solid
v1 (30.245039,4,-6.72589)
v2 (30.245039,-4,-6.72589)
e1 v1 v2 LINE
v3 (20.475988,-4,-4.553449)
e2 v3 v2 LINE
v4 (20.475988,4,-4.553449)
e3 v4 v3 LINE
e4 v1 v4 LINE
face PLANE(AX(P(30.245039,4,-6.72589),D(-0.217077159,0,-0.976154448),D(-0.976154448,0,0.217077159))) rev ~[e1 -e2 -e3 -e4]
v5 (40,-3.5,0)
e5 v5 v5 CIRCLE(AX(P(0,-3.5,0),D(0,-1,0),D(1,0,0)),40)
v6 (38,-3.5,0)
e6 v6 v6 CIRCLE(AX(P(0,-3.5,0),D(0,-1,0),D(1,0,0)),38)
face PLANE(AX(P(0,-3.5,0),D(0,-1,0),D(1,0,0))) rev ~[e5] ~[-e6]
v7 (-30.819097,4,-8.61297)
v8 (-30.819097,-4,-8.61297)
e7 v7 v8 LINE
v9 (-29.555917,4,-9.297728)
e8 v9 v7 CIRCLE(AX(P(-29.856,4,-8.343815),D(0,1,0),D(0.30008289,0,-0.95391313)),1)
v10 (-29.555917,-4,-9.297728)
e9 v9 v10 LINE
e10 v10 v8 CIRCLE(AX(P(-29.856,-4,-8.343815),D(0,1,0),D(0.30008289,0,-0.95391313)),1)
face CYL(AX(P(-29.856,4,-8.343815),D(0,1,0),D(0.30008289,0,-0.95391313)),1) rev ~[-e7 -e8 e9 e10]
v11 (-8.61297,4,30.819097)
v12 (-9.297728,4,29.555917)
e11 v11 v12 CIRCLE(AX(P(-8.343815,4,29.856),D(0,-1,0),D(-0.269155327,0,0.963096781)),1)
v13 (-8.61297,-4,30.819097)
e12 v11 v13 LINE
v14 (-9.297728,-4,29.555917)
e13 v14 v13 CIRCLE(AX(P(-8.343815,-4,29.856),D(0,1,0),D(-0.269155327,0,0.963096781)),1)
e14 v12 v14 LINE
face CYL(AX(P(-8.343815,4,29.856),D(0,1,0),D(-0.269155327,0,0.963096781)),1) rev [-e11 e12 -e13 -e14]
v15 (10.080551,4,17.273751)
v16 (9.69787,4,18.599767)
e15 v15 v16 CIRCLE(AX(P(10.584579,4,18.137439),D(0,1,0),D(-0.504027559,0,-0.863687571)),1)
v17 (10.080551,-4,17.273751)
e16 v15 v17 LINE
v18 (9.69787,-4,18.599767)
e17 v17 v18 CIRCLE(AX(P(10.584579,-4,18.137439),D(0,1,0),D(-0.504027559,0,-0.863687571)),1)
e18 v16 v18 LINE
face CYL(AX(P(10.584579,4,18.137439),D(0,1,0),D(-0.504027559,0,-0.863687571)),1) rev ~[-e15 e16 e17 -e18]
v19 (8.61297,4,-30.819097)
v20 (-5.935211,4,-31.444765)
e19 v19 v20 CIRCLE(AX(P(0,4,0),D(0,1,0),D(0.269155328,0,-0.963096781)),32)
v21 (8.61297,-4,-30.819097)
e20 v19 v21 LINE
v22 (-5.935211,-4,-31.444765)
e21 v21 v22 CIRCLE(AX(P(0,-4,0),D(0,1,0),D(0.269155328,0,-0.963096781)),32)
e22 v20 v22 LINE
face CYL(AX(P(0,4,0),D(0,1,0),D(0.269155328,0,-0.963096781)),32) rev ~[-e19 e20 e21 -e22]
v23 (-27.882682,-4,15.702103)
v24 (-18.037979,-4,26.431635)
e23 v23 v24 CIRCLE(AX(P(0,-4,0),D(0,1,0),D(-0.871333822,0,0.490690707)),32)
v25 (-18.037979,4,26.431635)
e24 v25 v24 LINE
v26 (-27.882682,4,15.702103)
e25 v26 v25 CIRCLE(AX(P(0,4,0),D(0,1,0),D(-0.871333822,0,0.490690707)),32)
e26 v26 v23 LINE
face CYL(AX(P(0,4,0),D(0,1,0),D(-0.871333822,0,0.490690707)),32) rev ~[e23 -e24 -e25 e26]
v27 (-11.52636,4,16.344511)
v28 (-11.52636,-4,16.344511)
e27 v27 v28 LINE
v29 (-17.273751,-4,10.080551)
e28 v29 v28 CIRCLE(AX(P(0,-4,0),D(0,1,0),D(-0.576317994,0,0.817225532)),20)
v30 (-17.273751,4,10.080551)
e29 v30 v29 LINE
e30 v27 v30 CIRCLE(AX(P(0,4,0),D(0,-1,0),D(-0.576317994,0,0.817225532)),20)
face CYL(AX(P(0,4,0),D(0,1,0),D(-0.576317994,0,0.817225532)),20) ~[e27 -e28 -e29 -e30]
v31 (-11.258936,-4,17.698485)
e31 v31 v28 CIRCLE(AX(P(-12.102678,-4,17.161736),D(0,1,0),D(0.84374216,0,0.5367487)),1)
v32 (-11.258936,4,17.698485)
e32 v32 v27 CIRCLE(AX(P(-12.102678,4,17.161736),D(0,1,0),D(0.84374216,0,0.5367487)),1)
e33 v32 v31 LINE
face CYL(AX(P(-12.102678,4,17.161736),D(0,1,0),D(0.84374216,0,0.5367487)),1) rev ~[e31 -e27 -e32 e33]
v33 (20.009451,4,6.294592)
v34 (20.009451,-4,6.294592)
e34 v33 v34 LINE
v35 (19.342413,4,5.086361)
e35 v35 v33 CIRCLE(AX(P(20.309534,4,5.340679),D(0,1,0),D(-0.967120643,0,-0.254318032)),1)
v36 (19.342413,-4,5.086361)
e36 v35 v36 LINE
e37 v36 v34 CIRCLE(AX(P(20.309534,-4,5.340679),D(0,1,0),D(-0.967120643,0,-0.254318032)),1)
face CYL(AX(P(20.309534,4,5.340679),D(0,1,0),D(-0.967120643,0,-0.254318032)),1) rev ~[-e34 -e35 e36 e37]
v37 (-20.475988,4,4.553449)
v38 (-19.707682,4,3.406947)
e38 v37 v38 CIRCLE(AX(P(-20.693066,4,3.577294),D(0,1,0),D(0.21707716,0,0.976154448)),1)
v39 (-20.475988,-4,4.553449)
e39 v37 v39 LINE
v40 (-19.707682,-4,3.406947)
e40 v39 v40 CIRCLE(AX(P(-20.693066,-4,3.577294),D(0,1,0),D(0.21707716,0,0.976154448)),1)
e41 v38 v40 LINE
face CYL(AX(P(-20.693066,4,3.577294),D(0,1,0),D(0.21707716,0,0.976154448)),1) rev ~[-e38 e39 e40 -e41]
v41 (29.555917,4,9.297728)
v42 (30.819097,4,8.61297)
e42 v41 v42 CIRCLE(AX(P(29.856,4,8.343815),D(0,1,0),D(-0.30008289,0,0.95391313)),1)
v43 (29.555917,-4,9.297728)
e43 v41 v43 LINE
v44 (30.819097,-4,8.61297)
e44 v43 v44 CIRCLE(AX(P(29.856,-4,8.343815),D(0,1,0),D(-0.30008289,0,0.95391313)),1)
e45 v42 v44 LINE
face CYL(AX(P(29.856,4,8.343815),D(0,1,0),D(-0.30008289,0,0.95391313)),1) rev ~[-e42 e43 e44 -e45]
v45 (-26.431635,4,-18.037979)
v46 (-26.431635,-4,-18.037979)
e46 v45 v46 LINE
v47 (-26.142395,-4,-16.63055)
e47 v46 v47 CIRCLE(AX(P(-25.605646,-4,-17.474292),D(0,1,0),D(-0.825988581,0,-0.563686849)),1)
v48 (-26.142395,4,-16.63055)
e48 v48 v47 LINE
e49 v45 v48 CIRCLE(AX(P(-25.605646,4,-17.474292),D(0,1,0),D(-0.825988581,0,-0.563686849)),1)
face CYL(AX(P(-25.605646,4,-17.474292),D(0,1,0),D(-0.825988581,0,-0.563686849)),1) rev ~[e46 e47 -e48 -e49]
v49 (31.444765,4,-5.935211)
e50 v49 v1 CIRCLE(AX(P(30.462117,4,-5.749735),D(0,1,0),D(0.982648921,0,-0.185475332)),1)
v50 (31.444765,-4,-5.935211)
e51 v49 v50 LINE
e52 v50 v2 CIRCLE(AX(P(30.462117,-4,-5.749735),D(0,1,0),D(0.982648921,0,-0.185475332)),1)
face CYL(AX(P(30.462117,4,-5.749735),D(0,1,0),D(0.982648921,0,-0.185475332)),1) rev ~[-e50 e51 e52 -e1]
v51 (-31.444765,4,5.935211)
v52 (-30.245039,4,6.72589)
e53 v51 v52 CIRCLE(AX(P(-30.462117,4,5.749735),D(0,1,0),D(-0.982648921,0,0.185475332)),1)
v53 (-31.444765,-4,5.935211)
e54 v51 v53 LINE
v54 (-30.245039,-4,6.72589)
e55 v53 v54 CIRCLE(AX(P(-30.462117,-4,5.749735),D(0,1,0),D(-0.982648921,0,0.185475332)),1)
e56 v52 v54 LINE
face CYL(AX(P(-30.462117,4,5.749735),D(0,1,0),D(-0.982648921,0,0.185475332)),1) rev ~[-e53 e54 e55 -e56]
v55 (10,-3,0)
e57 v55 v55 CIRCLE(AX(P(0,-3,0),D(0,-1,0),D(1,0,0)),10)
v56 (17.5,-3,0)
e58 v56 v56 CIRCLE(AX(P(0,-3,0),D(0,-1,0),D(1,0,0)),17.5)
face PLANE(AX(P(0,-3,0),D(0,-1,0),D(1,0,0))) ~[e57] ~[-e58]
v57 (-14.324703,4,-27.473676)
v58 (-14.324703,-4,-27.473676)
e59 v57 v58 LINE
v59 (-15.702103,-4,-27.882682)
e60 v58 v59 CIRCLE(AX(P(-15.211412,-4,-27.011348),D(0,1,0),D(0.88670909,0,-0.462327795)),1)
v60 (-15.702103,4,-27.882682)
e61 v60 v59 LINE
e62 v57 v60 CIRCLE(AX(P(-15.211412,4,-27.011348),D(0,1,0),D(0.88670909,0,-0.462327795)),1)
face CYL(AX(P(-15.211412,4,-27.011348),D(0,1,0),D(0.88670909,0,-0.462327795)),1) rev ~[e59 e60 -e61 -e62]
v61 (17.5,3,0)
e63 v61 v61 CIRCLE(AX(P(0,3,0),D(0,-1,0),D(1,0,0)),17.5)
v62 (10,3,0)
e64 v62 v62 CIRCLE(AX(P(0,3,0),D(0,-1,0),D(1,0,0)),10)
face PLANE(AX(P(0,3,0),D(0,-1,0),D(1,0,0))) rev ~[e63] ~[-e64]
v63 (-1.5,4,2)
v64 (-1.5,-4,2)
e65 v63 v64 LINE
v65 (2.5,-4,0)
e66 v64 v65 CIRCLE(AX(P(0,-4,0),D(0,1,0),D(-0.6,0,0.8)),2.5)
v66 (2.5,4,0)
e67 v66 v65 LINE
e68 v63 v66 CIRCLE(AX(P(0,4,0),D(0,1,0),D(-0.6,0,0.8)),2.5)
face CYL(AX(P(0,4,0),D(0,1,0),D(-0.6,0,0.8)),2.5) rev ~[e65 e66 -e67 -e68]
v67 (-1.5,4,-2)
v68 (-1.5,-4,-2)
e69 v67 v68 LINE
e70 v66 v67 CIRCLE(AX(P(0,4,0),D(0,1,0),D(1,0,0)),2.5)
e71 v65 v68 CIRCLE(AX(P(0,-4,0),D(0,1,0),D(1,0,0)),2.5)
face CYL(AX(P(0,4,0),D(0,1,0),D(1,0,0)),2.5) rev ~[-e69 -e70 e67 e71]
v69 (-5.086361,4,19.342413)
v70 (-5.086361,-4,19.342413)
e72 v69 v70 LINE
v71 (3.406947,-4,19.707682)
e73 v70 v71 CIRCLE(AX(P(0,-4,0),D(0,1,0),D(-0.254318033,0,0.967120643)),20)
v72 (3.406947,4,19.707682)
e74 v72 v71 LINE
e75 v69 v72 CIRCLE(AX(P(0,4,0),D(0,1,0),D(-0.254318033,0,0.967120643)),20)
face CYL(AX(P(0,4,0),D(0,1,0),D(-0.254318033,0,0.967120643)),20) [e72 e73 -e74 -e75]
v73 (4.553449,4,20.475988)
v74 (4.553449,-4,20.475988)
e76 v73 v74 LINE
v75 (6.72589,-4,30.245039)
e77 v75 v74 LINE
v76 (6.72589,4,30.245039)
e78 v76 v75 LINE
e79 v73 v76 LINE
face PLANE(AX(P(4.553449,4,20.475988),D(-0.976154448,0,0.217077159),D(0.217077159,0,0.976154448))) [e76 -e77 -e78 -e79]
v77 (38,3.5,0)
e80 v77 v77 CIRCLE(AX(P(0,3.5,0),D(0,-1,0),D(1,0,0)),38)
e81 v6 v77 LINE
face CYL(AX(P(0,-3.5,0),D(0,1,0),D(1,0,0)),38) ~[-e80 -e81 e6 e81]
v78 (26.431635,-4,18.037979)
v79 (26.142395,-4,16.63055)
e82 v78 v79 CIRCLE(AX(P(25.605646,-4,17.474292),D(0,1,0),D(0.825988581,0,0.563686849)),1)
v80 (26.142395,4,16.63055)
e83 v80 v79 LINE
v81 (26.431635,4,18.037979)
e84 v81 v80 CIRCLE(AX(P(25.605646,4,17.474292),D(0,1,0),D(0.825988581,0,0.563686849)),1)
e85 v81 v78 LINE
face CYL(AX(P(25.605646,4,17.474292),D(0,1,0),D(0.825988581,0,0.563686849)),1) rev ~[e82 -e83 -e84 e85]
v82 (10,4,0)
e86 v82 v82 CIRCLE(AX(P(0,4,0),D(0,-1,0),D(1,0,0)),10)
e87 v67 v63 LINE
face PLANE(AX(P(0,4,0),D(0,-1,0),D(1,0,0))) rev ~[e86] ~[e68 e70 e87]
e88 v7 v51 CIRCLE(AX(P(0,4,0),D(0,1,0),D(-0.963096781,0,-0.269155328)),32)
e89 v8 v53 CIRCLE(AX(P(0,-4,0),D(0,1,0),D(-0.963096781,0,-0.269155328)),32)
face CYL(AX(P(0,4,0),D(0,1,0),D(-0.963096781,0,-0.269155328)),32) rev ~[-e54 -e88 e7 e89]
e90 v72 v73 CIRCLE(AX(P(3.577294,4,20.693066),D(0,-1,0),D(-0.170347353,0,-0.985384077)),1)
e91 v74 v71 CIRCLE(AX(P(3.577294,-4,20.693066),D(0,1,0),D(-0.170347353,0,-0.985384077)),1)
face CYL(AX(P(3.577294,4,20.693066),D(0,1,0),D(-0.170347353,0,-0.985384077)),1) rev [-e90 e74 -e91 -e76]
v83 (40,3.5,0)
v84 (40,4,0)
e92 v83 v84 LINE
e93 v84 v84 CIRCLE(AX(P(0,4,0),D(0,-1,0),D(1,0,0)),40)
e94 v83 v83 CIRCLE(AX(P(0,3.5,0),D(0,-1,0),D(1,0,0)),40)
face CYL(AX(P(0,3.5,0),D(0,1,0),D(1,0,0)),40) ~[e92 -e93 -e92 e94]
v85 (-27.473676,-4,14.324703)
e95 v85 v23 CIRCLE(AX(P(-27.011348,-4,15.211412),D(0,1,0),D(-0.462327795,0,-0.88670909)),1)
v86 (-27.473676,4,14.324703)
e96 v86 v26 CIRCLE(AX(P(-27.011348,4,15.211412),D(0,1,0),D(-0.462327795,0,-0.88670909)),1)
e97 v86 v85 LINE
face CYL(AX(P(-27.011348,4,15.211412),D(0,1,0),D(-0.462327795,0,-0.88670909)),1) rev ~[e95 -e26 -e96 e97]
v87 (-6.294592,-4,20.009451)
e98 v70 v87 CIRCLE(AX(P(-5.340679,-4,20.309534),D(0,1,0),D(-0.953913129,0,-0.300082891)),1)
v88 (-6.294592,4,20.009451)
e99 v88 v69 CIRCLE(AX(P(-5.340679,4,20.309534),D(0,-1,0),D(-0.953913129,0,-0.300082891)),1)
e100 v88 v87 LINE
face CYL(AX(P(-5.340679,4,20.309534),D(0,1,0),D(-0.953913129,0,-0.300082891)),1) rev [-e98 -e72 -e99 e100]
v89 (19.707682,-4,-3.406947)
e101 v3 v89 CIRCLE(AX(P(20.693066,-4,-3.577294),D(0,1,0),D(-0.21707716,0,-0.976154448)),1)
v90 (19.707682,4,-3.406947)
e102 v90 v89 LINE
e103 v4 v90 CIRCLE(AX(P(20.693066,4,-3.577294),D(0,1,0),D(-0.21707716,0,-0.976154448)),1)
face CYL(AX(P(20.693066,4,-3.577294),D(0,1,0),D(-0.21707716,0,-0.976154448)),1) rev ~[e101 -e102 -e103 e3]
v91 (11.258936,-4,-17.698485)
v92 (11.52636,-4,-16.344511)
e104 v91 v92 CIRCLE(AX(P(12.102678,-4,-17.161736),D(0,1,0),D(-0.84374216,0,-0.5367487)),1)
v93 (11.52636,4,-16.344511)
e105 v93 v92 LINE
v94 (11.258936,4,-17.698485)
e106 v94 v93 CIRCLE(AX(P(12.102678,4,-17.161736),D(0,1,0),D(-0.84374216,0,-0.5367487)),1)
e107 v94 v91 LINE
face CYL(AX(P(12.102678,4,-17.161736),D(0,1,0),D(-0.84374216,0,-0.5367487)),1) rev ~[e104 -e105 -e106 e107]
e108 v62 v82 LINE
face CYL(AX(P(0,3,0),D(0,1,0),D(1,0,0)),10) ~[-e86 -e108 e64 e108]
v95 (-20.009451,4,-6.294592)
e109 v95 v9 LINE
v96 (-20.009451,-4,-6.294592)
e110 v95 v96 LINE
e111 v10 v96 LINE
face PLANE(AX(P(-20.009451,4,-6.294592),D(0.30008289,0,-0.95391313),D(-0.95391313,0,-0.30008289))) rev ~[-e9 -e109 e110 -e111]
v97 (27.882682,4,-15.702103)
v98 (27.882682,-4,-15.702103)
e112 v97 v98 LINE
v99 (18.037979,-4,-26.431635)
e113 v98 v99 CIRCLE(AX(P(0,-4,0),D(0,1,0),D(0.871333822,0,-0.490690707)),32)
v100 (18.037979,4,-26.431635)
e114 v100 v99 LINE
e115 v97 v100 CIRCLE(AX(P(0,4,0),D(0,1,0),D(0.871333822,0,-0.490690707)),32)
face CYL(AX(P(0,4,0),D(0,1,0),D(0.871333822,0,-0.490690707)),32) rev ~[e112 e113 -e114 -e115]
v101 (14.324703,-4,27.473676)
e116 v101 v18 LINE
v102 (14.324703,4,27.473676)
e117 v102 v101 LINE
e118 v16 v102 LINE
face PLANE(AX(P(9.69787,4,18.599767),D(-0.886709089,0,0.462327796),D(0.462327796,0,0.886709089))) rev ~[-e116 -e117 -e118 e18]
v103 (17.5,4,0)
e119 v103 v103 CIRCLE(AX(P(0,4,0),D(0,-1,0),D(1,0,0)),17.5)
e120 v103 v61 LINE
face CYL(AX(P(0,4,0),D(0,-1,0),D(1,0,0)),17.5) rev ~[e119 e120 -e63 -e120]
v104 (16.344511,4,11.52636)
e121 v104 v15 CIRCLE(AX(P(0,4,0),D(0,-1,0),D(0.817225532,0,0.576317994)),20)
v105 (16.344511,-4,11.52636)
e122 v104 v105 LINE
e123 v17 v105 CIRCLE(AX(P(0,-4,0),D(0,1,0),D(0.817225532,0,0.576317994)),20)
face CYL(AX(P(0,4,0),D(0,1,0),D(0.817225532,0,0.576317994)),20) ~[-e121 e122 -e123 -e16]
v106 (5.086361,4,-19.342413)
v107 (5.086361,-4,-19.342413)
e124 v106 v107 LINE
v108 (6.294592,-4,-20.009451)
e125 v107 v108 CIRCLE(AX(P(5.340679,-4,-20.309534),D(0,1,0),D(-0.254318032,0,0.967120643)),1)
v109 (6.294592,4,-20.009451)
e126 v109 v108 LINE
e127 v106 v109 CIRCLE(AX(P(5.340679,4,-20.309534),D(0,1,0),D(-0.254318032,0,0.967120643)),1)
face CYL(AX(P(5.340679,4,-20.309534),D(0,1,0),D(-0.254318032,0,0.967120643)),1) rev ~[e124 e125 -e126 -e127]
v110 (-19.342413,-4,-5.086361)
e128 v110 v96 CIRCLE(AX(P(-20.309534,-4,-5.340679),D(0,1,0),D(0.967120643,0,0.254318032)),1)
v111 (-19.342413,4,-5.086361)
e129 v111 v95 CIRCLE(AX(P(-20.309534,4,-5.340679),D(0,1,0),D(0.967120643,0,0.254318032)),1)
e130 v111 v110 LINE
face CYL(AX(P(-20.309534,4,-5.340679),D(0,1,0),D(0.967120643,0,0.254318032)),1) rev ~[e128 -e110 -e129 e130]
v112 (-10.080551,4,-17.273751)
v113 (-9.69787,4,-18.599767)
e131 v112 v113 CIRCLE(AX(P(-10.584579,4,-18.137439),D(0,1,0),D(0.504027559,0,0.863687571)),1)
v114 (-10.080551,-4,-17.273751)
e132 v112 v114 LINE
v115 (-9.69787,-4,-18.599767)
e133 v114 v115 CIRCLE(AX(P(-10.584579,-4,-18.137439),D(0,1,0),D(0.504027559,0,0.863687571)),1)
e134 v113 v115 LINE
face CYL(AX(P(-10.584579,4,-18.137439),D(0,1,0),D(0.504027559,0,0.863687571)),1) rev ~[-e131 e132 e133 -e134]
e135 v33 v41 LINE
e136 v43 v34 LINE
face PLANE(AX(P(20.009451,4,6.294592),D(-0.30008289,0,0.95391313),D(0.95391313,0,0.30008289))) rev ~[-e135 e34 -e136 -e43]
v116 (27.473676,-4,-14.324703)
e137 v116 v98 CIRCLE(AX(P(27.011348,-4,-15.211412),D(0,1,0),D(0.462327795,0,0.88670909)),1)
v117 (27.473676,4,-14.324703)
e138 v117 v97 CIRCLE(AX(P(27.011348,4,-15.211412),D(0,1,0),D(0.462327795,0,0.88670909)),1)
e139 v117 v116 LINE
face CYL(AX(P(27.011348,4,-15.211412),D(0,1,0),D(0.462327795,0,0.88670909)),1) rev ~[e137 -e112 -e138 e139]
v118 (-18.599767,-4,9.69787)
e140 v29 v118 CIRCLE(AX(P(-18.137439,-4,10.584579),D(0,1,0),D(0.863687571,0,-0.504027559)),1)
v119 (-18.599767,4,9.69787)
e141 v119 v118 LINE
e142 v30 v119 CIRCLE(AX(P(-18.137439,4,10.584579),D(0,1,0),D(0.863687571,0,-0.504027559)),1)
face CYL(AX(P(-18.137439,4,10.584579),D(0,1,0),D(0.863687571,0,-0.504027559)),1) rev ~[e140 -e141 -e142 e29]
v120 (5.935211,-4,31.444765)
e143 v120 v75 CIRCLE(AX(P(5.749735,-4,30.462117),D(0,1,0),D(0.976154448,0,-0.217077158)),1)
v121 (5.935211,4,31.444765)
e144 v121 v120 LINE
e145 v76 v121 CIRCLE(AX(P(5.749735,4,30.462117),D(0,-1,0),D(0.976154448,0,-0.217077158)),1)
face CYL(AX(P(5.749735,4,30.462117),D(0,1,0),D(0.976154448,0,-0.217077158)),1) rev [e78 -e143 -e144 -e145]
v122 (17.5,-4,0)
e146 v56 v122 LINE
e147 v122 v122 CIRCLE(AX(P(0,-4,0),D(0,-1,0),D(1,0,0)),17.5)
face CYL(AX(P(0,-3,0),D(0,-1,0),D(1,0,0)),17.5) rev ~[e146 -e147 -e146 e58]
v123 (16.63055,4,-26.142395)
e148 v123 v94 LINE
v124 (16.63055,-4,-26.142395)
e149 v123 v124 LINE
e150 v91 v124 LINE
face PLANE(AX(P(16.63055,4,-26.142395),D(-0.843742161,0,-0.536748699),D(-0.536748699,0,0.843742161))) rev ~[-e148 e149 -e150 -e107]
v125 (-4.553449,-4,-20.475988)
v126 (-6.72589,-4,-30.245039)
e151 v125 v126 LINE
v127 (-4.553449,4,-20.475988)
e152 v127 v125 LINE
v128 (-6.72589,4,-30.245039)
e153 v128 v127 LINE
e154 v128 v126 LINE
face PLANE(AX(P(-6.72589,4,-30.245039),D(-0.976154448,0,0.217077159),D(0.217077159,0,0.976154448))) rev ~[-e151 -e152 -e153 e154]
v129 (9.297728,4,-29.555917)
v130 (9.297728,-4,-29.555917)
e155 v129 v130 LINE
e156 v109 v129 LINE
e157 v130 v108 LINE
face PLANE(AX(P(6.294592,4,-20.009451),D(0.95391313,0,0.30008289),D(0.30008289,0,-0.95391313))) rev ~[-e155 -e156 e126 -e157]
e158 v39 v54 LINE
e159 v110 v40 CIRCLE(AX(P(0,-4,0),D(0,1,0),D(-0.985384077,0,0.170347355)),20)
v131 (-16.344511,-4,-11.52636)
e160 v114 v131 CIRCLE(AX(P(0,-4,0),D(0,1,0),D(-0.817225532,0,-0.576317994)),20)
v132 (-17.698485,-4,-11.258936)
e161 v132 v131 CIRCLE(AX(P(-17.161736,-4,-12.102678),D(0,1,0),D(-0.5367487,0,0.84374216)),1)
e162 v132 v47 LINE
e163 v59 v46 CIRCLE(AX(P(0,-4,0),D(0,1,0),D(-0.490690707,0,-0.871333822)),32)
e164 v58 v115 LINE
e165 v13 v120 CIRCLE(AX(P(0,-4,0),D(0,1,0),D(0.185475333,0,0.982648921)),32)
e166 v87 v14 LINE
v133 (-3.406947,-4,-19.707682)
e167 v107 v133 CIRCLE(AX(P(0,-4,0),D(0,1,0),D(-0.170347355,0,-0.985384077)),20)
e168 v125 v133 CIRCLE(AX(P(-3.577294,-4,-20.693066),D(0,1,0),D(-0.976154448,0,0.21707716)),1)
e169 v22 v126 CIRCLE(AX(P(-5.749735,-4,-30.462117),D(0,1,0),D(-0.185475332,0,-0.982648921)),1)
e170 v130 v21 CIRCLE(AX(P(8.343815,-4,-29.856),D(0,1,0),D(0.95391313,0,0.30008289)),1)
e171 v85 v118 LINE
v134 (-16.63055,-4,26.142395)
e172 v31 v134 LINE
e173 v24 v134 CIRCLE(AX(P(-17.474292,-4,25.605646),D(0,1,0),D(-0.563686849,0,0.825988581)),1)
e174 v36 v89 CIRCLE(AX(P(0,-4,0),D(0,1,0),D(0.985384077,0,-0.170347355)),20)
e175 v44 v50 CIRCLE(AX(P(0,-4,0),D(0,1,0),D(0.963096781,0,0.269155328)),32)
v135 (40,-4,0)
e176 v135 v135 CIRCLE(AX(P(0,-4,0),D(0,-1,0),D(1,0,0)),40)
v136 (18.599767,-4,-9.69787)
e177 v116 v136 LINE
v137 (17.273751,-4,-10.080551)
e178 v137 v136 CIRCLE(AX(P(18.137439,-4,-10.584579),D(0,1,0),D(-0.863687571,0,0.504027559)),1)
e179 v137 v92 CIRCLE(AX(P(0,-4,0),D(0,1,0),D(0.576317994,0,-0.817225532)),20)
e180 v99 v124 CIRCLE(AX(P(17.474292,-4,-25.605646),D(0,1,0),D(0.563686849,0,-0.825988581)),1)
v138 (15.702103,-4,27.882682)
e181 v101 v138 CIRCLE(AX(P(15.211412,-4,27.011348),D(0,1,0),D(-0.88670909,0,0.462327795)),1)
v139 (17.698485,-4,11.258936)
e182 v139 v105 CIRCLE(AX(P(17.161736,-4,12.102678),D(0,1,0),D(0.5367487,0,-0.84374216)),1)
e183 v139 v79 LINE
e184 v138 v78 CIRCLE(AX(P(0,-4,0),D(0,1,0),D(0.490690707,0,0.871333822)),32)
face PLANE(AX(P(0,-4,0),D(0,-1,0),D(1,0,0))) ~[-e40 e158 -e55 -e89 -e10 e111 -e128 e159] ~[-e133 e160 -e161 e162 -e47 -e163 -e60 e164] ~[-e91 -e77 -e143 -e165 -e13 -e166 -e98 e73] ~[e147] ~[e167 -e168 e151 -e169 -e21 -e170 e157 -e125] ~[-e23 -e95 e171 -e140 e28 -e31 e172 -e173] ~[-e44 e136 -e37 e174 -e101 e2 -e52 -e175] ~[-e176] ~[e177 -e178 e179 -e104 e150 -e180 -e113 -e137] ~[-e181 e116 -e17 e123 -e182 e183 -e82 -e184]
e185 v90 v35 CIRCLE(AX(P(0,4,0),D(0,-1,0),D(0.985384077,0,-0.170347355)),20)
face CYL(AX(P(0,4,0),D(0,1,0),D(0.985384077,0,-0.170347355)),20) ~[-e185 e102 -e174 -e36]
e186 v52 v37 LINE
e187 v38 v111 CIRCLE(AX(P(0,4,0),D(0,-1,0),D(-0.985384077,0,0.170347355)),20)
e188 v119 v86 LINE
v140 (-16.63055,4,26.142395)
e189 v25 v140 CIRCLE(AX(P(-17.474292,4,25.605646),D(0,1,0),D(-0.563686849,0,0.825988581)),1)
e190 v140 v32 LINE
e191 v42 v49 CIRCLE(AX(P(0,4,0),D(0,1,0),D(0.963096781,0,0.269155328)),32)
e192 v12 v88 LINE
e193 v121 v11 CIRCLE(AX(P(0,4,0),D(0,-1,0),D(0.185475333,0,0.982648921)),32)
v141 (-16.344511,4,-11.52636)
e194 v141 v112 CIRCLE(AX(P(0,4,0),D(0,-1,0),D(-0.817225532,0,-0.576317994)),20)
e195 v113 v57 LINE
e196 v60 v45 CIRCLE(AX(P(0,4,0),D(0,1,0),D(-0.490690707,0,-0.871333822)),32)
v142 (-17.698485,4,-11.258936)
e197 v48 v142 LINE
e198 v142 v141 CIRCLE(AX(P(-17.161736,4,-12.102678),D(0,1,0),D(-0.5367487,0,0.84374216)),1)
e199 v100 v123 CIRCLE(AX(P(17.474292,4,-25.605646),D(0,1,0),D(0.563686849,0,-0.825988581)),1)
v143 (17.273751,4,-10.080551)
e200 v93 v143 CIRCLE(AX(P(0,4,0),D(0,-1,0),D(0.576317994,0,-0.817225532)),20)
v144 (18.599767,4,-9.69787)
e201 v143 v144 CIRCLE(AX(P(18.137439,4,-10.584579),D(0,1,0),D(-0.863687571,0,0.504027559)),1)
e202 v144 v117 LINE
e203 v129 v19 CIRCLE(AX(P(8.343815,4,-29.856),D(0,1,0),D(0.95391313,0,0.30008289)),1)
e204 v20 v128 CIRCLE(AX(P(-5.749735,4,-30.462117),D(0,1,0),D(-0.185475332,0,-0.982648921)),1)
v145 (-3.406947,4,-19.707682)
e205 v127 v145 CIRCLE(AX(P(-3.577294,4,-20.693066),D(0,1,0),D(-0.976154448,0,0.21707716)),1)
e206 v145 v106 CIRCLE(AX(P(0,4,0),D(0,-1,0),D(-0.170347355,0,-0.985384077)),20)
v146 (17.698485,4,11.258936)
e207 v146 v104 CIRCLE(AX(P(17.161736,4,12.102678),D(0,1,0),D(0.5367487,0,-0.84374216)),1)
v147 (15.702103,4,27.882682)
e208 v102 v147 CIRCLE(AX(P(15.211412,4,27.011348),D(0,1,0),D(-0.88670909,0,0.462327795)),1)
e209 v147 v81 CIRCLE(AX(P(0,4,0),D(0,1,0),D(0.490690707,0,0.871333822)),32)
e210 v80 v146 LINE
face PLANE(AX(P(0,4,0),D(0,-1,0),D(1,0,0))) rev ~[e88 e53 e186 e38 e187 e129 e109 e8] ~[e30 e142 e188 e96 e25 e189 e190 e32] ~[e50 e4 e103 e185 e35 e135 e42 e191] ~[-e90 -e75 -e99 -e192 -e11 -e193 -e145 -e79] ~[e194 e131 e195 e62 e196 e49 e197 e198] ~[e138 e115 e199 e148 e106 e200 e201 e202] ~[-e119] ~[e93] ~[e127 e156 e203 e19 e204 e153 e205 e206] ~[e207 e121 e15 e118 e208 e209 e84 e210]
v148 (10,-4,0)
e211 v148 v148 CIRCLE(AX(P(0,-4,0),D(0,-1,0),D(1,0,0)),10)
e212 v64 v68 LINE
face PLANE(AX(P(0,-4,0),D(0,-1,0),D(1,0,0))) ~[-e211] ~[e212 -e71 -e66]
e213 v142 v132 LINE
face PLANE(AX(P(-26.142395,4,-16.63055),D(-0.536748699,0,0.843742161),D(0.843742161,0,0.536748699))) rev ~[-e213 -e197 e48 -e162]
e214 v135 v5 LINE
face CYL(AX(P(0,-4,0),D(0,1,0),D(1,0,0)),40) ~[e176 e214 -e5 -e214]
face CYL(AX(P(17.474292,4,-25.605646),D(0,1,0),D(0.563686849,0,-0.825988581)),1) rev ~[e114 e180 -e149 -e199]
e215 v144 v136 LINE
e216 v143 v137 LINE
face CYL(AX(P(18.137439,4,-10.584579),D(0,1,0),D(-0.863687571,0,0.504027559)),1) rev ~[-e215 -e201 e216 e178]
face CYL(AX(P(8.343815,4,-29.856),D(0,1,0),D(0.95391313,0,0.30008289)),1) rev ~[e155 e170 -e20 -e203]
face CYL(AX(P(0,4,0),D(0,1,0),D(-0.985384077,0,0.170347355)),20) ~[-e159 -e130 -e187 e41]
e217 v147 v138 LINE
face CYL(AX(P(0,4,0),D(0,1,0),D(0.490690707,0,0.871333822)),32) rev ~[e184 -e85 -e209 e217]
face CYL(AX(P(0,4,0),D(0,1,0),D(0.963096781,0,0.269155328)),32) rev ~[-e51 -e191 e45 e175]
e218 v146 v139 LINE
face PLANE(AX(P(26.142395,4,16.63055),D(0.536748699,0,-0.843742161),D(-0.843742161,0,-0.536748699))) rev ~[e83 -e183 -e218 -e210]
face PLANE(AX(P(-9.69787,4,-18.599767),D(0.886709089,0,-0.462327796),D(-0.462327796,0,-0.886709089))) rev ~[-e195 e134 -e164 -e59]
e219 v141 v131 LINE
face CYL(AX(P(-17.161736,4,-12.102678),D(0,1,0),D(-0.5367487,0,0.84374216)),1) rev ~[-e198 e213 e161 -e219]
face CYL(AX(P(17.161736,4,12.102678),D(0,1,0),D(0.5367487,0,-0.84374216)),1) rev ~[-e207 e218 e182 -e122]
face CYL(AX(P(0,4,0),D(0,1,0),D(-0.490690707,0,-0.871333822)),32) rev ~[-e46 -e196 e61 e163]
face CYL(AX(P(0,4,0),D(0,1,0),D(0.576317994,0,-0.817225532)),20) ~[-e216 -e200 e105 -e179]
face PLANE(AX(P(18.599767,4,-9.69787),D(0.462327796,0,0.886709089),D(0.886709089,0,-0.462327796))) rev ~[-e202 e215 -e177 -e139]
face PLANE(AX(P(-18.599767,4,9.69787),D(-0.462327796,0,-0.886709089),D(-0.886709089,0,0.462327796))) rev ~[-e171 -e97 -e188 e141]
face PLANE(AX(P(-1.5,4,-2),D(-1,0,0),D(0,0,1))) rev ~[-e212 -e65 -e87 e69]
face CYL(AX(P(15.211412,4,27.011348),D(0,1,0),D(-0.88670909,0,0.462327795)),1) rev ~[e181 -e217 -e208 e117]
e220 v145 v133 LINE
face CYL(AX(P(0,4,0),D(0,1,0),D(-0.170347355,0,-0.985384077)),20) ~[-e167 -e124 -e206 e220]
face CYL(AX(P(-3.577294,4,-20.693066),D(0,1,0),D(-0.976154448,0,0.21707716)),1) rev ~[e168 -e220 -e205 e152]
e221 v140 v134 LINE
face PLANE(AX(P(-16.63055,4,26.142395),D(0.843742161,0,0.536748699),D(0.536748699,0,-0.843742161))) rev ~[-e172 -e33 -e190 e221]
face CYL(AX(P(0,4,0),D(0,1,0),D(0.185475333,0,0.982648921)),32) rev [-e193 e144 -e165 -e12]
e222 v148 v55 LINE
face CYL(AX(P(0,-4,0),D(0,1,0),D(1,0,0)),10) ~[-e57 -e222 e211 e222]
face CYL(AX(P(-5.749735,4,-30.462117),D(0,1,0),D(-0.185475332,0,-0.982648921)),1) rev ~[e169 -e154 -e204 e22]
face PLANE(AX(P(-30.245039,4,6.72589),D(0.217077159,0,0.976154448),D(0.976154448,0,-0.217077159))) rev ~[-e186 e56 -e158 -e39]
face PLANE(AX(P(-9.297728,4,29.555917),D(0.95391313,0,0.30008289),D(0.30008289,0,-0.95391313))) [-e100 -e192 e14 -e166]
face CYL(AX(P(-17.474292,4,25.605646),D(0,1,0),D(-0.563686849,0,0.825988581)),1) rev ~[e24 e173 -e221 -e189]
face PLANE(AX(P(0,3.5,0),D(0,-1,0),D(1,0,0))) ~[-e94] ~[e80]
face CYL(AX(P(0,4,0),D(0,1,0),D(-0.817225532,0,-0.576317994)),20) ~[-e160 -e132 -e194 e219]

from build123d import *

# Parameters (mm, degrees)
CUT_EXTRUDE1_REACH = 10
CUT_EXTRUDE2_REACH = 10


with BuildPart() as part:
    # Sketch1 → Revolve3 (revolve)
    with BuildSketch(Plane.XY):
        Polygon((40, 4), (37, 4), (17.5, 4), (17.5, 3), (10, 3), (10, 4), (0, 4), (0, -4), (10, -4), (10, -3), (17.5, -3), (17.5, -4), (37, -4), (40, -4), (40, -3.5), (38, -3.5), (38, 3.5), (40, 3.5), align=None)
    revolve(axis=Axis((0, 4, 0), (0, -1, 0)))

    # Sketch2 → Cut-Extrude1 (cut, up to next)
    with BuildSketch(Plane(origin=(0, 4, 0), x_dir=(1, 0, 0), z_dir=(0, 1, 0)), mode=Mode.PRIVATE) as cut_extrude1_sk1:
        with BuildLine():
            ThreePointArc((2.5, 0), (1.118033989, 2.236067977), (-1.5, 2))
            Line((-1.5, 2), (-1.5, -2))
            ThreePointArc((-1.5, -2), (1.118033989, -2.236067977), (2.5, 0))
        make_face()
    cut_extrude1_tool1 = extrude(cut_extrude1_sk1.sketch, amount=-CUT_EXTRUDE1_REACH, mode=Mode.PRIVATE) & part.part
    add(cut_extrude1_tool1.solids().sort_by_distance((0.316718, 4, 0))[0], mode=Mode.SUBTRACT)

    # Sketch3 → Cut-Extrude2 (cut, up to next)
    with BuildSketch(Plane(origin=(0, 4, 0), x_dir=(1, 0, 0), z_dir=(0, 1, 0)), mode=Mode.PRIVATE) as cut_extrude2_sk1:
        with BuildLine():
            Line((4.553448892, -20.475988454), (6.725889759, -30.245039378))
            ThreePointArc((6.725889759, -30.245039378), (6.584709324, -31.012405912), (5.935210643, -31.444765457))
            ThreePointArc((5.935210643, -31.444765457), (-1.374941712, -31.970447843), (-8.612970493, -30.81909699))
            ThreePointArc((-8.612970493, -30.81909699), (-9.22295101, -30.33257147), (-9.297728295, -29.555917319))
            Line((-9.297728295, -29.555917319), (-6.294591812, -20.009450615))
            ThreePointArc((-6.294591812, -20.009450615), (-5.823993451, -19.434086857), (-5.08636065, -19.342412862))
            ThreePointArc((-5.08636065, -19.342412862), (-0.85933857, -19.981529902), (3.406947089, -19.707681536))
            ThreePointArc((3.406947089, -19.707681536), (4.133985694, -19.862346135), (4.553448892, -20.475988454))
        make_face()
    cut_extrude2_tool1 = extrude(cut_extrude2_sk1.sketch, amount=-CUT_EXTRUDE2_REACH, mode=Mode.PRIVATE) & part.part
    add(cut_extrude2_tool1.solids().sort_by_distance((-1.124173, 4, 26.139518))[0], mode=Mode.SUBTRACT)
    # Sketch3 → Cut-Extrude2 (cut, up to next)
    with BuildSketch(Plane(origin=(0, 4, 0), x_dir=(1, 0, 0), z_dir=(0, 1, 0)), mode=Mode.PRIVATE) as cut_extrude2_sk2:
        with BuildLine():
            Line((-18.599766773, -9.697869663), (-27.473676287, -14.324702834))
            ThreePointArc((-27.473676287, -14.324702834), (-27.969978179, -14.926755776), (-27.882682314, -15.70210263))
            ThreePointArc((-27.882682314, -15.70210263), (-23.578751076, -21.634289859), (-18.037979194, -26.431634581))
            ThreePointArc((-18.037979194, -26.431634581), (-17.272989906, -26.585175136), (-16.630550183, -26.142394699))
            Line((-16.630550183, -26.142394699), (-11.258935698, -17.698484877))
            ThreePointArc((-11.258935698, -17.698484877), (-11.121630324, -16.96796896), (-11.526359866, -16.344510646))
            ThreePointArc((-11.526359866, -16.344510646), (-14.736719422, -13.521431162), (-17.273751407, -10.080551193))
            ThreePointArc((-17.273751407, -10.080551193), (-17.860159866, -9.62378934), (-18.599766773, -9.697869663))
        make_face()
    cut_extrude2_tool2 = extrude(cut_extrude2_sk2.sketch, amount=-CUT_EXTRUDE2_REACH, mode=Mode.PRIVATE) & part.part
    add(cut_extrude2_tool2.solids().sort_by_distance((-19.278341, 4, 17.68852))[0], mode=Mode.SUBTRACT)
    # Sketch3 → Cut-Extrude2 (cut, up to next)
    with BuildSketch(Plane(origin=(0, 4, 0), x_dir=(1, 0, 0), z_dir=(0, 1, 0)), mode=Mode.PRIVATE) as cut_extrude2_sk3:
        with BuildLine():
            Line((-20.009450615, 6.294591812), (-29.555917319, 9.297728295))
            ThreePointArc((-29.555917319, 9.297728295), (-30.33257147, 9.22295101), (-30.81909699, 8.612970493))
            ThreePointArc((-30.81909699, 8.612970493), (-31.970447843, 1.374941712), (-31.444765457, -5.935210643))
            ThreePointArc((-31.444765457, -5.935210643), (-31.012405912, -6.584709324), (-30.245039378, -6.725889759))
            Line((-30.245039378, -6.725889759), (-20.475988454, -4.553448892))
            ThreePointArc((-20.475988454, -4.553448892), (-19.862346135, -4.133985694), (-19.707681536, -3.406947089))
            ThreePointArc((-19.707681536, -3.406947089), (-19.981529902, 0.85933857), (-19.342412862, 5.08636065))
            ThreePointArc((-19.342412862, 5.08636065), (-19.434086857, 5.823993451), (-20.009450615, 6.294591812))
        make_face()
    cut_extrude2_tool3 = extrude(cut_extrude2_sk3.sketch, amount=-CUT_EXTRUDE2_REACH, mode=Mode.PRIVATE) & part.part
    add(cut_extrude2_tool3.solids().sort_by_distance((-26.139518, 4, -1.124173))[0], mode=Mode.SUBTRACT)
    # Sketch3 → Cut-Extrude2 (cut, up to next)
    with BuildSketch(Plane(origin=(0, 4, 0), x_dir=(1, 0, 0), z_dir=(0, 1, 0)), mode=Mode.PRIVATE) as cut_extrude2_sk4:
        with BuildLine():
            Line((-9.697869663, 18.599766773), (-14.324702834, 27.473676287))
            ThreePointArc((-14.324702834, 27.473676287), (-14.926755776, 27.969978179), (-15.70210263, 27.882682314))
            ThreePointArc((-15.70210263, 27.882682314), (-21.634289859, 23.578751076), (-26.431634581, 18.037979194))
            ThreePointArc((-26.431634581, 18.037979194), (-26.585175136, 17.272989906), (-26.142394699, 16.630550183))
            Line((-26.142394699, 16.630550183), (-17.698484877, 11.258935698))
            ThreePointArc((-17.698484877, 11.258935698), (-16.96796896, 11.121630324), (-16.344510646, 11.526359866))
            ThreePointArc((-16.344510646, 11.526359866), (-13.521431162, 14.736719422), (-10.080551193, 17.273751407))
            ThreePointArc((-10.080551193, 17.273751407), (-9.62378934, 17.860159866), (-9.697869663, 18.599766773))
        make_face()
    cut_extrude2_tool4 = extrude(cut_extrude2_sk4.sketch, amount=-CUT_EXTRUDE2_REACH, mode=Mode.PRIVATE) & part.part
    add(cut_extrude2_tool4.solids().sort_by_distance((-17.68852, 4, -19.278341))[0], mode=Mode.SUBTRACT)
    # Sketch3 → Cut-Extrude2 (cut, up to next)
    with BuildSketch(Plane(origin=(0, 4, 0), x_dir=(1, 0, 0), z_dir=(0, 1, 0)), mode=Mode.PRIVATE) as cut_extrude2_sk5:
        with BuildLine():
            Line((6.294591812, 20.009450615), (9.297728295, 29.555917319))
            ThreePointArc((9.297728295, 29.555917319), (9.22295101, 30.33257147), (8.612970493, 30.81909699))
            ThreePointArc((8.612970493, 30.81909699), (1.374941712, 31.970447843), (-5.935210643, 31.444765457))
            ThreePointArc((-5.935210643, 31.444765457), (-6.584709324, 31.012405912), (-6.725889759, 30.245039378))
            Line((-6.725889759, 30.245039378), (-4.553448892, 20.475988454))
            ThreePointArc((-4.553448892, 20.475988454), (-4.133985694, 19.862346135), (-3.406947089, 19.707681536))
            ThreePointArc((-3.406947089, 19.707681536), (0.85933857, 19.981529902), (5.08636065, 19.342412862))
            ThreePointArc((5.08636065, 19.342412862), (5.823993451, 19.434086857), (6.294591812, 20.009450615))
        make_face()
    cut_extrude2_tool5 = extrude(cut_extrude2_sk5.sketch, amount=-CUT_EXTRUDE2_REACH, mode=Mode.PRIVATE) & part.part
    add(cut_extrude2_tool5.solids().sort_by_distance((1.124173, 4, -26.139518))[0], mode=Mode.SUBTRACT)
    # Sketch3 → Cut-Extrude2 (cut, up to next)
    with BuildSketch(Plane(origin=(0, 4, 0), x_dir=(1, 0, 0), z_dir=(0, 1, 0)), mode=Mode.PRIVATE) as cut_extrude2_sk6:
        with BuildLine():
            Line((18.599766773, 9.697869663), (27.473676287, 14.324702834))
            ThreePointArc((27.473676287, 14.324702834), (27.969978179, 14.926755776), (27.882682314, 15.70210263))
            ThreePointArc((27.882682314, 15.70210263), (23.578751076, 21.634289859), (18.037979194, 26.431634581))
            ThreePointArc((18.037979194, 26.431634581), (17.272989906, 26.585175136), (16.630550183, 26.142394699))
            Line((16.630550183, 26.142394699), (11.258935698, 17.698484877))
            ThreePointArc((11.258935698, 17.698484877), (11.121630324, 16.96796896), (11.526359866, 16.344510646))
            ThreePointArc((11.526359866, 16.344510646), (14.736719422, 13.521431162), (17.273751407, 10.080551193))
            ThreePointArc((17.273751407, 10.080551193), (17.860159866, 9.62378934), (18.599766773, 9.697869663))
        make_face()
    cut_extrude2_tool6 = extrude(cut_extrude2_sk6.sketch, amount=-CUT_EXTRUDE2_REACH, mode=Mode.PRIVATE) & part.part
    add(cut_extrude2_tool6.solids().sort_by_distance((19.278341, 4, -17.68852))[0], mode=Mode.SUBTRACT)
    # Sketch3 → Cut-Extrude2 (cut, up to next)
    with BuildSketch(Plane(origin=(0, 4, 0), x_dir=(1, 0, 0), z_dir=(0, 1, 0)), mode=Mode.PRIVATE) as cut_extrude2_sk7:
        with BuildLine():
            Line((20.009450615, -6.294591812), (29.555917319, -9.297728295))
            ThreePointArc((29.555917319, -9.297728295), (30.33257147, -9.22295101), (30.81909699, -8.612970493))
            ThreePointArc((30.81909699, -8.612970493), (31.970447843, -1.374941712), (31.444765457, 5.935210643))
            ThreePointArc((31.444765457, 5.935210643), (31.012405912, 6.584709324), (30.245039378, 6.725889759))
            Line((30.245039378, 6.725889759), (20.475988454, 4.553448892))
            ThreePointArc((20.475988454, 4.553448892), (19.862346135, 4.133985694), (19.707681536, 3.406947089))
            ThreePointArc((19.707681536, 3.406947089), (19.981529902, -0.85933857), (19.342412862, -5.08636065))
            ThreePointArc((19.342412862, -5.08636065), (19.434086857, -5.823993451), (20.009450615, -6.294591812))
        make_face()
    cut_extrude2_tool7 = extrude(cut_extrude2_sk7.sketch, amount=-CUT_EXTRUDE2_REACH, mode=Mode.PRIVATE) & part.part
    add(cut_extrude2_tool7.solids().sort_by_distance((26.139518, 4, 1.124173))[0], mode=Mode.SUBTRACT)
    # Sketch3 → Cut-Extrude2 (cut, up to next)
    with BuildSketch(Plane(origin=(0, 4, 0), x_dir=(1, 0, 0), z_dir=(0, 1, 0)), mode=Mode.PRIVATE) as cut_extrude2_sk8:
        with BuildLine():
            Line((9.697869663, -18.599766773), (14.324702834, -27.473676287))
            ThreePointArc((14.324702834, -27.473676287), (14.926755776, -27.969978179), (15.70210263, -27.882682314))
            ThreePointArc((15.70210263, -27.882682314), (21.634289859, -23.578751076), (26.431634581, -18.037979194))
            ThreePointArc((26.431634581, -18.037979194), (26.585175136, -17.272989906), (26.142394699, -16.630550183))
            Line((26.142394699, -16.630550183), (17.698484877, -11.258935698))
            ThreePointArc((17.698484877, -11.258935698), (16.96796896, -11.121630324), (16.344510646, -11.526359866))
            ThreePointArc((16.344510646, -11.526359866), (13.521431162, -14.736719422), (10.080551193, -17.273751407))
            ThreePointArc((10.080551193, -17.273751407), (9.62378934, -17.860159866), (9.697869663, -18.599766773))
        make_face()
    cut_extrude2_tool8 = extrude(cut_extrude2_sk8.sketch, amount=-CUT_EXTRUDE2_REACH, mode=Mode.PRIVATE) & part.part
    add(cut_extrude2_tool8.solids().sort_by_distance((17.68852, 4, 19.278341))[0], mode=Mode.SUBTRACT)


solid = part.part
